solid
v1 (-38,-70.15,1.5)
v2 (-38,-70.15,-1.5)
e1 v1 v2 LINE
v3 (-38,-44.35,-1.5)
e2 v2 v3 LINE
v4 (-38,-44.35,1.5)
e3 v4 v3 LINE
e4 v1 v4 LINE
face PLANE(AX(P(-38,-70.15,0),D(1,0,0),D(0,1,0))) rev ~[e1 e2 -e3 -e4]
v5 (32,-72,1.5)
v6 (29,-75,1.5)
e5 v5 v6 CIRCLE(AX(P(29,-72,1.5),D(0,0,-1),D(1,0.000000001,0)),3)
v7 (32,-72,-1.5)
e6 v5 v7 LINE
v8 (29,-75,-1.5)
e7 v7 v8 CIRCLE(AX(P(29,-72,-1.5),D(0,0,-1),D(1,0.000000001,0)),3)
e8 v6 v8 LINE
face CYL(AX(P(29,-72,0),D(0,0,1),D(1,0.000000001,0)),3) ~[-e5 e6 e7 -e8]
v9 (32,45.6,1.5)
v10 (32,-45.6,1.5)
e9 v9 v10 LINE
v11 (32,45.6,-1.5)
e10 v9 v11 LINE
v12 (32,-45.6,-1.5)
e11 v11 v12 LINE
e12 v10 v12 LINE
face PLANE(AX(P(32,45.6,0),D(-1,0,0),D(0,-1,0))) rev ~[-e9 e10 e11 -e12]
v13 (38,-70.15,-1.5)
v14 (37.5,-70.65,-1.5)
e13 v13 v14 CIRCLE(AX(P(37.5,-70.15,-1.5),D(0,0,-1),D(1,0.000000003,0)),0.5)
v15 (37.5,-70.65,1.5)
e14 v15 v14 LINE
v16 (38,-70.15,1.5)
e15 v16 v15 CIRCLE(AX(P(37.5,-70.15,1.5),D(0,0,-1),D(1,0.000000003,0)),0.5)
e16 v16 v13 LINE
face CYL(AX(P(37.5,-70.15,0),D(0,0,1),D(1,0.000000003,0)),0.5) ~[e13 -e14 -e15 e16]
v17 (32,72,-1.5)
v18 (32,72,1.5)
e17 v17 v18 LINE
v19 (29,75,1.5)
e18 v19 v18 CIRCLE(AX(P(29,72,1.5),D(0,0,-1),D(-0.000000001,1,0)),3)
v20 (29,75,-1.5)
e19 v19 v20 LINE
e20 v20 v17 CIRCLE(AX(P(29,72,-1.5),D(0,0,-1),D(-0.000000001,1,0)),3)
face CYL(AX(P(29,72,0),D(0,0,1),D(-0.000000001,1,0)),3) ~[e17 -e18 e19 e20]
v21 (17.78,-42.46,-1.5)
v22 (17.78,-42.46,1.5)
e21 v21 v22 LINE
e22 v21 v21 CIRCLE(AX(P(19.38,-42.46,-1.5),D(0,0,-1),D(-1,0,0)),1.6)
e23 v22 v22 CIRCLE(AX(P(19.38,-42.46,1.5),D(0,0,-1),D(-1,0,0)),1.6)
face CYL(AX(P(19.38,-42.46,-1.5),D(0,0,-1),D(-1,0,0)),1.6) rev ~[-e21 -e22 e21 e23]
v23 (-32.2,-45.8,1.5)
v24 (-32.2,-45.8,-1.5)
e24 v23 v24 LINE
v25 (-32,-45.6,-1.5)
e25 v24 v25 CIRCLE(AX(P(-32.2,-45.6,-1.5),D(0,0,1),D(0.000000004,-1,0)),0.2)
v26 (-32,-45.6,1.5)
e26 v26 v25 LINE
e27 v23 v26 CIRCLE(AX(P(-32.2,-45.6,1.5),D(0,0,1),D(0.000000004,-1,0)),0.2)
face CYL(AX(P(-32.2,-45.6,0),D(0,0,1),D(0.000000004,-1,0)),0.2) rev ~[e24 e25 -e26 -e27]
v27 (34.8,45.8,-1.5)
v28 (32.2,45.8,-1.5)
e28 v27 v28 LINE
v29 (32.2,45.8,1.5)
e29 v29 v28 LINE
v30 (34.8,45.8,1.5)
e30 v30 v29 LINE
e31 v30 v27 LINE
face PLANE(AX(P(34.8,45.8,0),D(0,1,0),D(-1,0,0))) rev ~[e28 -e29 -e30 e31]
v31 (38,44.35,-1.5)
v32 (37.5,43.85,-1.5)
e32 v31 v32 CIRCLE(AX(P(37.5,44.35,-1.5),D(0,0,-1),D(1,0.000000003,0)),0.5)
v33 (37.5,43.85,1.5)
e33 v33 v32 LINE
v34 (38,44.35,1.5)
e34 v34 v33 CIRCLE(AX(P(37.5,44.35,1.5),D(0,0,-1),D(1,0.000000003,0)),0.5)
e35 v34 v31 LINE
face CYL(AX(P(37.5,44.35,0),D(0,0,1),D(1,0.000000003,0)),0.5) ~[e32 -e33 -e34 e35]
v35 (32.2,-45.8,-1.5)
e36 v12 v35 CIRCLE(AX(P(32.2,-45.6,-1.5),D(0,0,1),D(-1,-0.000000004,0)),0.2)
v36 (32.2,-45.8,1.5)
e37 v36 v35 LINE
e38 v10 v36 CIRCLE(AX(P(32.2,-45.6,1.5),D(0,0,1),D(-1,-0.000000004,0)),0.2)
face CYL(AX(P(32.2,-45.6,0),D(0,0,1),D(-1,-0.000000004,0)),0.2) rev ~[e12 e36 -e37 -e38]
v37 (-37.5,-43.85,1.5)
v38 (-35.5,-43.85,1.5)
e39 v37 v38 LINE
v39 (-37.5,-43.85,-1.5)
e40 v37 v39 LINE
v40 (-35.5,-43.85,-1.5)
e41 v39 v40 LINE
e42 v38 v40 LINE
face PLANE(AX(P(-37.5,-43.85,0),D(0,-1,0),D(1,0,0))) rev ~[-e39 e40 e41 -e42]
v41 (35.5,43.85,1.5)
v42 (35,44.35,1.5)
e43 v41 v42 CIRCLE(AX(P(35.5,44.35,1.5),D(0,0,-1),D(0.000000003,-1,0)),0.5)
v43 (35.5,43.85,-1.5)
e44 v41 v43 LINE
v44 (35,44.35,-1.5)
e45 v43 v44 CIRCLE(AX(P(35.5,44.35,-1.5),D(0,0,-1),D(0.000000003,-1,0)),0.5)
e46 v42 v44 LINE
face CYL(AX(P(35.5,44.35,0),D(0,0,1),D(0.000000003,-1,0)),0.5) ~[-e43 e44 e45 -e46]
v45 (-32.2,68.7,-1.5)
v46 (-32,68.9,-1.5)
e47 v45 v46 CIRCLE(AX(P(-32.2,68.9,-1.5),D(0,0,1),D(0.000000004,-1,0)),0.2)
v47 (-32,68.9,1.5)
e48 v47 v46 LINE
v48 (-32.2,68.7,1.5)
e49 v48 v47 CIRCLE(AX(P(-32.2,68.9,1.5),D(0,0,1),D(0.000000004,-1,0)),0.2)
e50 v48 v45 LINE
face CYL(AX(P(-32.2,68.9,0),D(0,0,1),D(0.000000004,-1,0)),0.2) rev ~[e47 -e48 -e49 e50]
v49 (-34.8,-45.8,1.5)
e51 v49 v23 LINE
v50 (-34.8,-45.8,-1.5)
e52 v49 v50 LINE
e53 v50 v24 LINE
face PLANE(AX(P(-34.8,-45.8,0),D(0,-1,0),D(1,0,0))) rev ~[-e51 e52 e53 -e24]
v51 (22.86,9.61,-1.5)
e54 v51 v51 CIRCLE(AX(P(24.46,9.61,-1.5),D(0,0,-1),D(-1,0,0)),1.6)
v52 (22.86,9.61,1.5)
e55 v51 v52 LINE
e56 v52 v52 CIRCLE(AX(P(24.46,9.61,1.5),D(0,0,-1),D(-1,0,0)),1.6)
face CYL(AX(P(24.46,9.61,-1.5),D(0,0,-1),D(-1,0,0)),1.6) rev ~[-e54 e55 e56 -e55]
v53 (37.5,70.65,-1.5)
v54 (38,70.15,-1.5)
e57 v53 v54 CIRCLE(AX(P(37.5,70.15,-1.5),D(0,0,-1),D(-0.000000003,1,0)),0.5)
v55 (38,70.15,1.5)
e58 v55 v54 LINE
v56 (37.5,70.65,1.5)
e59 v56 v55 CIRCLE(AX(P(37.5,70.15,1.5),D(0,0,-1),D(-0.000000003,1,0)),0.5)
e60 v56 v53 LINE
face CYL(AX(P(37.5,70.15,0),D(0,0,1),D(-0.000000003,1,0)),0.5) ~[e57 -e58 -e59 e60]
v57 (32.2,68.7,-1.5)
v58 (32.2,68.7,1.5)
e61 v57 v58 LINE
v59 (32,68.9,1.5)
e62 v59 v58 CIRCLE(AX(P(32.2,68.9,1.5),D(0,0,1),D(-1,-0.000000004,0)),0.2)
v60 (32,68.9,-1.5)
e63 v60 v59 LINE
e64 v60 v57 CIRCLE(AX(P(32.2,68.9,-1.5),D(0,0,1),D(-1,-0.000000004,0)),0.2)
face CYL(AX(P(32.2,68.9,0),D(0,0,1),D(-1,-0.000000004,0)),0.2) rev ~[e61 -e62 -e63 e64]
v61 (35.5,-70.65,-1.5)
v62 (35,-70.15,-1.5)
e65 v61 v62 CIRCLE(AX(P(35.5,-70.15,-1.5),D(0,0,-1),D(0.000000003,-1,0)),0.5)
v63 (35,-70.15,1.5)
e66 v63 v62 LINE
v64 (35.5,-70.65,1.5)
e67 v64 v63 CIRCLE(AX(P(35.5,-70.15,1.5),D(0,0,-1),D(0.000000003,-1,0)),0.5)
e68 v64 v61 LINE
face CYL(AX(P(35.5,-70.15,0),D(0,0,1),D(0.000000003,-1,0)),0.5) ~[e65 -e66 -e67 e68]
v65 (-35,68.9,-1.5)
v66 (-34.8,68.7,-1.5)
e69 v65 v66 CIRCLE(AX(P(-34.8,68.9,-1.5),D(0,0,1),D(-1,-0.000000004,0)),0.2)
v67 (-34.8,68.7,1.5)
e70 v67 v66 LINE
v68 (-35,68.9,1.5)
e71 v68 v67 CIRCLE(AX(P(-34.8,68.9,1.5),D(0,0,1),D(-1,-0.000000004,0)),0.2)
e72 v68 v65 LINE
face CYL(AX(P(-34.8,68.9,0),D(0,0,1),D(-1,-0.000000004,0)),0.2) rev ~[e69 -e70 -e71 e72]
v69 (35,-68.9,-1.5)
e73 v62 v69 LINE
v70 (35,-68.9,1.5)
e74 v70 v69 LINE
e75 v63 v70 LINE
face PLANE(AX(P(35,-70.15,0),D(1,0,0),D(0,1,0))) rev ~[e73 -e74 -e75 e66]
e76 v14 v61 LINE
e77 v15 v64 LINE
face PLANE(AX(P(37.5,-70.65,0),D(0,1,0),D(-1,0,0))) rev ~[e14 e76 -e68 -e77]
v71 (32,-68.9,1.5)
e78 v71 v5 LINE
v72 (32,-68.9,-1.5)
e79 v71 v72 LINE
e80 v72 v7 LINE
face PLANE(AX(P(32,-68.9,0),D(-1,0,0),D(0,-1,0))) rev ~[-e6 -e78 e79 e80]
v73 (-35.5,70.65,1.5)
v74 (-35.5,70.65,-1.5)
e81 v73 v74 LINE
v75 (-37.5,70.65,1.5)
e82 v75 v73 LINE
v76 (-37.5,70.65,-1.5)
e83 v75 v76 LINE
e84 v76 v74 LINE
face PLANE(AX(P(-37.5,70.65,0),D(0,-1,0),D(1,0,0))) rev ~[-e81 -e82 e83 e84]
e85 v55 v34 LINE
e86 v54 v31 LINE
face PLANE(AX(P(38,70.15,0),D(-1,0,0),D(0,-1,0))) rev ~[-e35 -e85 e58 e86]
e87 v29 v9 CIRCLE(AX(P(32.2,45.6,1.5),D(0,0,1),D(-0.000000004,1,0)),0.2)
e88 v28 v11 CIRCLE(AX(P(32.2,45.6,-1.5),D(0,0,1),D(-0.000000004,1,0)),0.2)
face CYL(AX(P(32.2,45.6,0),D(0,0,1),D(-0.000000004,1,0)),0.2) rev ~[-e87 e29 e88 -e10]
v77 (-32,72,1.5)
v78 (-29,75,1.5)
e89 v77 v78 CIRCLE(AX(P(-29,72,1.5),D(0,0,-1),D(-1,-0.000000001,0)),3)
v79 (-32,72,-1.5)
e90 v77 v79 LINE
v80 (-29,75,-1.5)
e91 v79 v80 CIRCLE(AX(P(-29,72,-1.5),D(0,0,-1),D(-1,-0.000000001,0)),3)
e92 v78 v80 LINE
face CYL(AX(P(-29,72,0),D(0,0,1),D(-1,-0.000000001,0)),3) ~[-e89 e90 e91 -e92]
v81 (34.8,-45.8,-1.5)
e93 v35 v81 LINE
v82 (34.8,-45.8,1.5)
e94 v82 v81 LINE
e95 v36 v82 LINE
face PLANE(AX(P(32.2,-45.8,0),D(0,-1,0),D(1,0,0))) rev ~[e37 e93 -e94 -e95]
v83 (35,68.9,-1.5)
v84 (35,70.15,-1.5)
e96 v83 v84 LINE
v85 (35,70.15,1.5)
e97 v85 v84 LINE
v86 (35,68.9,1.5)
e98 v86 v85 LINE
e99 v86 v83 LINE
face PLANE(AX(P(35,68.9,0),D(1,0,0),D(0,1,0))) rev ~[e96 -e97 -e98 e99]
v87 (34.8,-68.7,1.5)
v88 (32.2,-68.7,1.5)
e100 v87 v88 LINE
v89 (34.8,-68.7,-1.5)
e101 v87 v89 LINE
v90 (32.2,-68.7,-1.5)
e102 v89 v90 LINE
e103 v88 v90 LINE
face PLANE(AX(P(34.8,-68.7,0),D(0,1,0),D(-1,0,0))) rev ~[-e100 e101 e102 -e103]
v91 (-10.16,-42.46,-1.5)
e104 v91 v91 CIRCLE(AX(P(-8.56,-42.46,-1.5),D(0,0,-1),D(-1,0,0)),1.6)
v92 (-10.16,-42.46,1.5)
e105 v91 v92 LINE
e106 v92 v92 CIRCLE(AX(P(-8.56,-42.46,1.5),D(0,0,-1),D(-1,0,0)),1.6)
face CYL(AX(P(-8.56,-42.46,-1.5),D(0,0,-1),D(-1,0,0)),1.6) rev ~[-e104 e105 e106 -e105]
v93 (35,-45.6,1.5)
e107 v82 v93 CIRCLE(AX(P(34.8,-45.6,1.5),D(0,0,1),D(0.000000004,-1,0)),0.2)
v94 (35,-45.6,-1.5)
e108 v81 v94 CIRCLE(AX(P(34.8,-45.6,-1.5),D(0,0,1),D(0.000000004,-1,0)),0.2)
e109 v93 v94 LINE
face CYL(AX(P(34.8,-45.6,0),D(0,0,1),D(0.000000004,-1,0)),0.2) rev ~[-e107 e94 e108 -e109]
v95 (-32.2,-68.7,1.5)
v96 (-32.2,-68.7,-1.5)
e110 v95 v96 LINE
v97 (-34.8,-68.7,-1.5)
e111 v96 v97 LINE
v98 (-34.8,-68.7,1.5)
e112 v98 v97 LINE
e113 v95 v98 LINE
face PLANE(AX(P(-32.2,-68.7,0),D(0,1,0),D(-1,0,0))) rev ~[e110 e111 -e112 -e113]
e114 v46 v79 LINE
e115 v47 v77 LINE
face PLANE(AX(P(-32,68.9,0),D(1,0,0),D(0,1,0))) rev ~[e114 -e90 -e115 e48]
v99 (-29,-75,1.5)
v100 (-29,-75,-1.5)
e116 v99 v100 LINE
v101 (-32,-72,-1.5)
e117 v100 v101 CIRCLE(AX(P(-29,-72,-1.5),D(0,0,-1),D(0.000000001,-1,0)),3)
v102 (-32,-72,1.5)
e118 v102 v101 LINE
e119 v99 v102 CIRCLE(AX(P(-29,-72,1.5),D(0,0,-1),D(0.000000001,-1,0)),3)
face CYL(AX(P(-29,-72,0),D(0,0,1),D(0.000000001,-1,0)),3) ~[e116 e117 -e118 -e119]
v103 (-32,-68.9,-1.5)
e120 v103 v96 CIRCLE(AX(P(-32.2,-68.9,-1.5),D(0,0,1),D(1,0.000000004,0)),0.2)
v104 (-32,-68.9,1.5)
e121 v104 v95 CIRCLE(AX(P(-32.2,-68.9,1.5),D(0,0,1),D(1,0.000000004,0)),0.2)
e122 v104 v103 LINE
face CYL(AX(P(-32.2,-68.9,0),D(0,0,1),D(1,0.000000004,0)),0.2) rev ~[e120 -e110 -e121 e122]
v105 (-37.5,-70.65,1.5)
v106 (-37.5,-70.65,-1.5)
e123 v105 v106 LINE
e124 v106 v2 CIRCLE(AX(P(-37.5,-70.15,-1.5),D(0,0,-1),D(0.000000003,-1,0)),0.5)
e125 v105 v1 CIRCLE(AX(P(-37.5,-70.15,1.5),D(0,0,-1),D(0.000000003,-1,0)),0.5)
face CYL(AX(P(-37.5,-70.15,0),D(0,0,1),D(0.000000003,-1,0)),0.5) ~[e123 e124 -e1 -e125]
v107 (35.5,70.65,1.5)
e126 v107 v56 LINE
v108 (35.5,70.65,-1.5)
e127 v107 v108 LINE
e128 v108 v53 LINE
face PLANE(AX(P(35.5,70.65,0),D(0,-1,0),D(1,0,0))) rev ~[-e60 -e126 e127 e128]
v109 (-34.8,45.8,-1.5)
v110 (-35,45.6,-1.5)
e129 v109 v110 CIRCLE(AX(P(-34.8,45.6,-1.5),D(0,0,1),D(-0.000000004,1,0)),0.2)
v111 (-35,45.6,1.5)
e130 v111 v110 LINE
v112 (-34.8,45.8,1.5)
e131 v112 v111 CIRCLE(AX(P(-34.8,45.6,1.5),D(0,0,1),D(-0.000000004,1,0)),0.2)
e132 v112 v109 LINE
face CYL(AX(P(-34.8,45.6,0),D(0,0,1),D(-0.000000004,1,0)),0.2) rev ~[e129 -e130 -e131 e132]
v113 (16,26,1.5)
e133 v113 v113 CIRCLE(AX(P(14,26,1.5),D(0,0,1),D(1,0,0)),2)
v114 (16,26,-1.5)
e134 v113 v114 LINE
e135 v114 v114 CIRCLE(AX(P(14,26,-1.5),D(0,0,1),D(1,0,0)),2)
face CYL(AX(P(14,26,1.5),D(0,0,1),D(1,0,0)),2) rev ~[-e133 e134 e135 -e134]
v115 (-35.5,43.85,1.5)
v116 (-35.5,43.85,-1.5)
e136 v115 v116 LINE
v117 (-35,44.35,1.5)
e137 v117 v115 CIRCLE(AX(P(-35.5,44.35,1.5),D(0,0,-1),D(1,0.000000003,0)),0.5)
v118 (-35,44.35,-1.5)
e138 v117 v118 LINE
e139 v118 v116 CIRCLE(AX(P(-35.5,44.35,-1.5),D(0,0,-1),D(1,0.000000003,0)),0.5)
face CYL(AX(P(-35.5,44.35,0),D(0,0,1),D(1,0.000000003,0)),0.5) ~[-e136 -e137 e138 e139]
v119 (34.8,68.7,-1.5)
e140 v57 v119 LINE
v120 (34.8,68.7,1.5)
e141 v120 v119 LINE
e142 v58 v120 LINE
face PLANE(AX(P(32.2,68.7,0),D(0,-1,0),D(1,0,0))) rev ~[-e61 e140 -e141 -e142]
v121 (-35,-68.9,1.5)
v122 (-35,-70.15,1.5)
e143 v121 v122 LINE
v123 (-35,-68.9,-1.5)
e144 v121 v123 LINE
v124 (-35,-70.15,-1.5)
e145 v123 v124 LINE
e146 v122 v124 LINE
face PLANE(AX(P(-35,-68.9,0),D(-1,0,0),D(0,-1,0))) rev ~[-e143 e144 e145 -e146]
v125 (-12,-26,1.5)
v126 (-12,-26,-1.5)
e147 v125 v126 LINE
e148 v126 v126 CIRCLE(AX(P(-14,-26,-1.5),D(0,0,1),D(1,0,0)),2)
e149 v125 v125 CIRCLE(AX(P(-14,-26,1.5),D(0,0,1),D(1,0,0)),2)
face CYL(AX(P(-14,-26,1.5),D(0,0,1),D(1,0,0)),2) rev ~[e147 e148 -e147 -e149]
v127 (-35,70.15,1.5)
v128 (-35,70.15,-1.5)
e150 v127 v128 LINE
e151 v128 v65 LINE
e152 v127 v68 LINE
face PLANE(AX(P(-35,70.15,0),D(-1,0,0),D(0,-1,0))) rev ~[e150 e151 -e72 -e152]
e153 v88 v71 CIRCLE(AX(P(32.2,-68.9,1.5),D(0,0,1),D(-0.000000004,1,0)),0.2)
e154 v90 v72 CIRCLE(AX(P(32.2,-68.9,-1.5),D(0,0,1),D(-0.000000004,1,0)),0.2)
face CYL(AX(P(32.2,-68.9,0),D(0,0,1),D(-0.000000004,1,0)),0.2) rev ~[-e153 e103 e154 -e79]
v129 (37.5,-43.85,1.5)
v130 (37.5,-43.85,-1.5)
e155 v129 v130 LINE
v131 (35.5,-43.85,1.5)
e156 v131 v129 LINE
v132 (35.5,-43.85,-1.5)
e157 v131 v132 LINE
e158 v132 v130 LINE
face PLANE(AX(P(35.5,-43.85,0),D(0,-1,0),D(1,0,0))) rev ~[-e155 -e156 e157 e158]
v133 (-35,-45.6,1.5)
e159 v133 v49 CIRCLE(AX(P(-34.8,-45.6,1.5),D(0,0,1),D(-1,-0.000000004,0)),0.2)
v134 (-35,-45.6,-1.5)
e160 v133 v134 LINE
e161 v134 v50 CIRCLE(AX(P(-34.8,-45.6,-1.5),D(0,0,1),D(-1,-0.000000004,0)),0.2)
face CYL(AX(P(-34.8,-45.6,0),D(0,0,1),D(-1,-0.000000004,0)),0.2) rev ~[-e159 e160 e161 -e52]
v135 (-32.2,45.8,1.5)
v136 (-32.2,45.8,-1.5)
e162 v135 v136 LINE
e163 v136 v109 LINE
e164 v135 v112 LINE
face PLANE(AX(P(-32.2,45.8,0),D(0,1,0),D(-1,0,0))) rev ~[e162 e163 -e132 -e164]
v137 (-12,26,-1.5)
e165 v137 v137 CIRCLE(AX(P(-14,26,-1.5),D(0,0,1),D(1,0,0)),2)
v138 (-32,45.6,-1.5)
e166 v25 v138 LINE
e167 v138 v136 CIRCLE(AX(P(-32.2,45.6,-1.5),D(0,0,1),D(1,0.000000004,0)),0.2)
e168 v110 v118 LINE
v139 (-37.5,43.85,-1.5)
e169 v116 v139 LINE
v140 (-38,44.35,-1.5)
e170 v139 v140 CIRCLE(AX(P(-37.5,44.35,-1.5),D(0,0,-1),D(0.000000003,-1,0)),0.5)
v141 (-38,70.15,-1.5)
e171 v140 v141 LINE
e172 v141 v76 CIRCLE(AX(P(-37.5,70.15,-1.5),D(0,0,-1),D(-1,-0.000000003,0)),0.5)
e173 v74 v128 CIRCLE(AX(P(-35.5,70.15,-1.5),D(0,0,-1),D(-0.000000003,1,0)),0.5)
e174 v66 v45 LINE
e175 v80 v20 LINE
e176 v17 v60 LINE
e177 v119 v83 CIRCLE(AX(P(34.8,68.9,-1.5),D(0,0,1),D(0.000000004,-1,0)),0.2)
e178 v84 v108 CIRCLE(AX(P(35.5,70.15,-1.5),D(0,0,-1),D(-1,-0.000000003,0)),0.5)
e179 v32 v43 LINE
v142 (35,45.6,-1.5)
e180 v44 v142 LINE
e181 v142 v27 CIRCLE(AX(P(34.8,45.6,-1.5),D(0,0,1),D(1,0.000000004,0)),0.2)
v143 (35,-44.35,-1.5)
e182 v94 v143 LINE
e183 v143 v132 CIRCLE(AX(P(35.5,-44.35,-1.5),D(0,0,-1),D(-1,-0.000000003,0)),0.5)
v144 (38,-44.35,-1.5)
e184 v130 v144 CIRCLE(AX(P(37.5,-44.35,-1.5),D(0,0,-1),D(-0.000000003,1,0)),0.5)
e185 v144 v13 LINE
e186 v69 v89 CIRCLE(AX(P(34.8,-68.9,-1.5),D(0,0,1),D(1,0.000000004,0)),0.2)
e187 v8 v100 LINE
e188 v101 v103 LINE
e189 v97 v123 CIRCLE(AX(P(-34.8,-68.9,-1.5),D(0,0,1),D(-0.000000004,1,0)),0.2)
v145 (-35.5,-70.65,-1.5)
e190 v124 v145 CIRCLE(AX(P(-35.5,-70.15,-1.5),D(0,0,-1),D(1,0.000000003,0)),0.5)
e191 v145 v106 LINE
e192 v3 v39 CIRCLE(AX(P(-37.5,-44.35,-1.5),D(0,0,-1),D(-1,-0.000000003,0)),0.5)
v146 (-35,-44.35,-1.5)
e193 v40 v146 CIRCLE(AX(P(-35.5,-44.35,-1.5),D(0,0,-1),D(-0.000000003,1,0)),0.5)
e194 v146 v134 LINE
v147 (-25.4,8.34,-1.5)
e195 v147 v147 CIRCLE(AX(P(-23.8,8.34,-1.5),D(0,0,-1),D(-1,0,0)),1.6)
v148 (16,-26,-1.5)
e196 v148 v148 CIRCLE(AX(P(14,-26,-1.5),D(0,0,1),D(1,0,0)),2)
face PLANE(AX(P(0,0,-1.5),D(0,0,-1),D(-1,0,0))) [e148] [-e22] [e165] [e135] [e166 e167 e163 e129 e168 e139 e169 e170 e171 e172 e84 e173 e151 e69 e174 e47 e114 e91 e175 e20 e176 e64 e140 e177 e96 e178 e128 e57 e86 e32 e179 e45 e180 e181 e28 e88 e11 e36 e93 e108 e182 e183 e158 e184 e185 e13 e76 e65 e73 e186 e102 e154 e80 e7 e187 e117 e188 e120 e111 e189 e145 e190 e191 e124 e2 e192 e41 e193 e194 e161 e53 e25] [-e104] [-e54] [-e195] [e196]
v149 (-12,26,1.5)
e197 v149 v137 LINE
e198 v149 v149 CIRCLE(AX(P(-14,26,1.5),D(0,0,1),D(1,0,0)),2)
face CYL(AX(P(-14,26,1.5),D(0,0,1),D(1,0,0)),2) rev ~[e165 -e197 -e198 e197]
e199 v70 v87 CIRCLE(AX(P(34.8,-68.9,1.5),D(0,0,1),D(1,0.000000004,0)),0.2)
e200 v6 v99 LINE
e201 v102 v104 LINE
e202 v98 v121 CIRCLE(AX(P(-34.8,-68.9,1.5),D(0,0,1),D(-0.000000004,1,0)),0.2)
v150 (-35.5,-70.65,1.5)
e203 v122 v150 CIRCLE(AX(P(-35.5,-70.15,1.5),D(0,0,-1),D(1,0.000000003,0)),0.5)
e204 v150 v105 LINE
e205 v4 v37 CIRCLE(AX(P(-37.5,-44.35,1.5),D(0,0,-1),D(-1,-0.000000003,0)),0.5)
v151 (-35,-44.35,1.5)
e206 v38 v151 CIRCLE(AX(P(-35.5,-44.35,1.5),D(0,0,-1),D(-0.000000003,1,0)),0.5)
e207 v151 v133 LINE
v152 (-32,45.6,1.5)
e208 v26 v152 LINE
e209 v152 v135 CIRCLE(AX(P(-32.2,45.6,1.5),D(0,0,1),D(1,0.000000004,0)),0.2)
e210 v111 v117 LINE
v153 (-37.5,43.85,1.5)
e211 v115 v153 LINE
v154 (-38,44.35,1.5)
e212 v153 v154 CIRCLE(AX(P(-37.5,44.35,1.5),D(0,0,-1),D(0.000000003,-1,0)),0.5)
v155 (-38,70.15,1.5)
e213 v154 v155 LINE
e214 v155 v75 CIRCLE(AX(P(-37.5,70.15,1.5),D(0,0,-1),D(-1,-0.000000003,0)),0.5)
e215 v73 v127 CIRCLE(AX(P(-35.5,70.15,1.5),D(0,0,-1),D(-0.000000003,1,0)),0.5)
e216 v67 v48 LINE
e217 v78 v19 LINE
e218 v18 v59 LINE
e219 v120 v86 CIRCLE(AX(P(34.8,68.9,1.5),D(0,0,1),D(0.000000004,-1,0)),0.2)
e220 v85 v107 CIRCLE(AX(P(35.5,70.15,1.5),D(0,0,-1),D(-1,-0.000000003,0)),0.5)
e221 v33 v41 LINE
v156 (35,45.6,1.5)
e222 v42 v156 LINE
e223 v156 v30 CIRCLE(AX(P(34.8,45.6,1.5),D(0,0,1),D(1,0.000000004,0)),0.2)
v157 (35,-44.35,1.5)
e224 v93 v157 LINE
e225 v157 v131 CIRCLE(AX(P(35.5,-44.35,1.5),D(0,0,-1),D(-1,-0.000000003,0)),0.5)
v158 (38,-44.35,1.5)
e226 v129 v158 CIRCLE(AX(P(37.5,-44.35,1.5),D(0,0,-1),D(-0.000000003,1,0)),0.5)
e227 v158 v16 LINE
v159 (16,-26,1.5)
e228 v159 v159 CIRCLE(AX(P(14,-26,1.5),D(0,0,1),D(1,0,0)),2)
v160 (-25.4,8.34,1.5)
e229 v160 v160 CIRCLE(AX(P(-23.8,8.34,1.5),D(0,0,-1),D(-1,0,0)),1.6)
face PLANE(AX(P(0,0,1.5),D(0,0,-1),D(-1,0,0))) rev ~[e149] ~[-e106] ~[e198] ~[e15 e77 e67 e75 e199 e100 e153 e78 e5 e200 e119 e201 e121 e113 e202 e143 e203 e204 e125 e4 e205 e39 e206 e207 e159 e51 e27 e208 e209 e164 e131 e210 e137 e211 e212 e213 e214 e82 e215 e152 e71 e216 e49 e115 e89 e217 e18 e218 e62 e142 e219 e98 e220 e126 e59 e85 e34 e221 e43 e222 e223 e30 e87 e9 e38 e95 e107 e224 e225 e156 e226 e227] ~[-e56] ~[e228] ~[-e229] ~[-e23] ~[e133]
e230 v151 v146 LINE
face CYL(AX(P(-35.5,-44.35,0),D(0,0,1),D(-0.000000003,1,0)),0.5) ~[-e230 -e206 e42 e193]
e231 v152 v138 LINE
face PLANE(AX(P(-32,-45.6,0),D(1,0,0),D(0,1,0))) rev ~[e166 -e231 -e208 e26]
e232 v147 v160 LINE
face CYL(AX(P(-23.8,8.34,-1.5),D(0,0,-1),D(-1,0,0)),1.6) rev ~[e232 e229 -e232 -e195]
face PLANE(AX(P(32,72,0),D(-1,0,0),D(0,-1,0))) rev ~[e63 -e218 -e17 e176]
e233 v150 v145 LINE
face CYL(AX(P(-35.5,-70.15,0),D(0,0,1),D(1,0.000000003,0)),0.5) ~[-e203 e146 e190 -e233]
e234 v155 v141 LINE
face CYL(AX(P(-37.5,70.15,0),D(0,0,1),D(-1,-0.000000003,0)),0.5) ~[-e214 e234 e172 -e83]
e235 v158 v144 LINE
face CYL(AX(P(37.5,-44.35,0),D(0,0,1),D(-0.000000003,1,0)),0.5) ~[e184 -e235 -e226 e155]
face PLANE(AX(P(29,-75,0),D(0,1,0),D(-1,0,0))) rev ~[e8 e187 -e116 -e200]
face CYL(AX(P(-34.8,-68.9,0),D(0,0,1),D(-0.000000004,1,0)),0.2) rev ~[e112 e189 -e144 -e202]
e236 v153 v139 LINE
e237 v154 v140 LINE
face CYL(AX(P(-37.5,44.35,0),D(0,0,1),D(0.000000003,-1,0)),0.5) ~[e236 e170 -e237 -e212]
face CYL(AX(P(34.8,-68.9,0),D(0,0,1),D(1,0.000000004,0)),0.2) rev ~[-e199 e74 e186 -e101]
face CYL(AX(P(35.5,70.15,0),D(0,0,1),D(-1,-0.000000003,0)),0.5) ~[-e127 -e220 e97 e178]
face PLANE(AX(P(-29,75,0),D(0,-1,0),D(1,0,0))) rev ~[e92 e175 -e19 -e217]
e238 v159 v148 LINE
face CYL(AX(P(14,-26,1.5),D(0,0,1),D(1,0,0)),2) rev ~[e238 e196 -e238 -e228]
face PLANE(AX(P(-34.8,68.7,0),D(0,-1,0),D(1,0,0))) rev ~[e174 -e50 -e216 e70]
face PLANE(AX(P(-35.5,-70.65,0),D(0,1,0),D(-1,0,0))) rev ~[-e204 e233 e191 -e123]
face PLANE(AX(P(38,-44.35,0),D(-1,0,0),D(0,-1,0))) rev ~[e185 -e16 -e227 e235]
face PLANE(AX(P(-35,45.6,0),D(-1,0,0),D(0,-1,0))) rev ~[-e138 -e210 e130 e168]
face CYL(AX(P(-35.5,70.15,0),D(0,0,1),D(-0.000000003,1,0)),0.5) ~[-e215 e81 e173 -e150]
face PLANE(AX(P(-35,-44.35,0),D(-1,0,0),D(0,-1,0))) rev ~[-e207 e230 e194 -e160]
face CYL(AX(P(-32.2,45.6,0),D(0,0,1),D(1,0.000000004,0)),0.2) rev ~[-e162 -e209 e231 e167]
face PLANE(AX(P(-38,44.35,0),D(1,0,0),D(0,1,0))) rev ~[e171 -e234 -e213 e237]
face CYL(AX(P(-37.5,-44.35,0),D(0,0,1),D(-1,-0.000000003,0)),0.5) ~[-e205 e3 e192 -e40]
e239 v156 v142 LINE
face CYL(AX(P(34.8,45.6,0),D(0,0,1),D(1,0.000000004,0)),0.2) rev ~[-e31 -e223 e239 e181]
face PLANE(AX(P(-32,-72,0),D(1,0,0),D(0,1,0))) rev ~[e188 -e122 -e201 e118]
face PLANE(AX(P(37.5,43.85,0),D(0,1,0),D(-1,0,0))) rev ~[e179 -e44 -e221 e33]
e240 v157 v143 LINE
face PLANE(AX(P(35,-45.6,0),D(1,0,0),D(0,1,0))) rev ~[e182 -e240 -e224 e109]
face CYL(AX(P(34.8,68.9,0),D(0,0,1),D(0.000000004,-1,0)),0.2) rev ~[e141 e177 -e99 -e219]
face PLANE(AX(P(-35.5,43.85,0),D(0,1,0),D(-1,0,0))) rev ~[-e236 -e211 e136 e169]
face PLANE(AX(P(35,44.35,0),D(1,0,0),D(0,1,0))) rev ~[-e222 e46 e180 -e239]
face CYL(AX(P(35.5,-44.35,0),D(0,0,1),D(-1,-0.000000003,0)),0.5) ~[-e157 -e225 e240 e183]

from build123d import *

# Parameters (mm, degrees)
EXTRUDE_1_DEPTH     = 1.5
CUT_EXTRUDE_1_REACH = 5
SKETCH_2_R          = 1.6
SKETCH_3_R          = 2
CUT_EXTRUDE_2_DEPTH = 10


with BuildPart() as part:
    # 草图1 → 凸台-拉伸1 (new body, symmetric)
    with BuildSketch(Plane.XY):
        with BuildLine():
            Line((32.2, 68.7), (34.8, 68.7))
            ThreePointArc((34.8, 68.7), (34.941421356, 68.758578644), (35, 68.9))
            Line((35, 68.9), (35, 70.15))
            ThreePointArc((35, 70.15), (35.146446609, 70.503553391), (35.5, 70.65))
            Line((35.5, 70.65), (37.5, 70.65))
            ThreePointArc((37.5, 70.65), (37.853553391, 70.503553391), (38, 70.15))
            Line((38, 70.15), (38, 44.35))
            ThreePointArc((38, 44.35), (37.853553391, 43.996446609), (37.5, 43.85))
            Line((37.5, 43.85), (35.5, 43.85))
            ThreePointArc((35.5, 43.85), (35.146446609, 43.996446609), (35, 44.35))
            Line((35, 44.35), (35, 45.6))
            ThreePointArc((35, 45.6), (34.941421356, 45.741421356), (34.8, 45.8))
            Line((34.8, 45.8), (32.2, 45.8))
            ThreePointArc((32.2, 45.8), (32.058578644, 45.741421356), (32, 45.6))
            Line((32, 45.6), (32, -45.6))
            ThreePointArc((32, -45.6), (32.058578644, -45.741421356), (32.2, -45.8))
            Line((32.2, -45.8), (34.8, -45.8))
            ThreePointArc((34.8, -45.8), (34.941421356, -45.741421356), (35, -45.6))
            Line((35, -45.6), (35, -44.35))
            ThreePointArc((35, -44.35), (35.146446609, -43.996446609), (35.5, -43.85))
            Line((35.5, -43.85), (37.5, -43.85))
            ThreePointArc((37.5, -43.85), (37.853553391, -43.996446609), (38, -44.35))
            Line((38, -44.35), (38, -70.15))
            ThreePointArc((38, -70.15), (37.853553391, -70.503553391), (37.5, -70.65))
            Line((37.5, -70.65), (35.5, -70.65))
            ThreePointArc((35.5, -70.65), (35.146446609, -70.503553391), (35, -70.15))
            Line((35, -70.15), (35, -68.9))
            ThreePointArc((35, -68.9), (34.941421356, -68.758578644), (34.8, -68.7))
            Line((34.8, -68.7), (32.2, -68.7))
            ThreePointArc((32.2, -68.7), (32.058578644, -68.758578644), (32, -68.9))
            Line((32, -68.9), (32, -72))
            ThreePointArc((32, -72), (31.121320344, -74.121320344), (29, -75))
            Line((29, -75), (-29, -75))
            ThreePointArc((-29, -75), (-31.121320344, -74.121320344), (-32, -72))
            Line((-32, -72), (-32, -68.9))
            ThreePointArc((-32, -68.9), (-32.058578644, -68.758578644), (-32.2, -68.7))
            Line((-32.2, -68.7), (-34.8, -68.7))
            ThreePointArc((-34.8, -68.7), (-34.941421356, -68.758578644), (-35, -68.9))
            Line((-35, -68.9), (-35, -70.15))
            ThreePointArc((-35, -70.15), (-35.146446609, -70.503553391), (-35.5, -70.65))
            Line((-35.5, -70.65), (-37.5, -70.65))
            ThreePointArc((-37.5, -70.65), (-37.853553391, -70.503553391), (-38, -70.15))
            Line((-38, -70.15), (-38, -44.35))
            ThreePointArc((-38, -44.35), (-37.853553391, -43.996446609), (-37.5, -43.85))
            Line((-37.5, -43.85), (-35.5, -43.85))
            ThreePointArc((-35.5, -43.85), (-35.146446609, -43.996446609), (-35, -44.35))
            Line((-35, -44.35), (-35, -45.6))
            ThreePointArc((-35, -45.6), (-34.941421356, -45.741421356), (-34.8, -45.8))
            Line((-34.8, -45.8), (-32.2, -45.8))
            ThreePointArc((-32.2, -45.8), (-32.058578644, -45.741421356), (-32, -45.6))
            Line((-32, -45.6), (-32, 45.6))
            ThreePointArc((-32, 45.6), (-32.058578644, 45.741421356), (-32.2, 45.8))
            Line((-32.2, 45.8), (-34.8, 45.8))
            ThreePointArc((-34.8, 45.8), (-34.941421356, 45.741421356), (-35, 45.6))
            Line((-35, 45.6), (-35, 44.35))
            ThreePointArc((-35, 44.35), (-35.146446609, 43.996446609), (-35.5, 43.85))
            Line((-35.5, 43.85), (-37.5, 43.85))
            ThreePointArc((-37.5, 43.85), (-37.853553391, 43.996446609), (-38, 44.35))
            Line((-38, 44.35), (-38, 70.15))
            ThreePointArc((-38, 70.15), (-37.853553391, 70.503553391), (-37.5, 70.65))
            Line((-37.5, 70.65), (-35.5, 70.65))
            ThreePointArc((-35.5, 70.65), (-35.146446609, 70.503553391), (-35, 70.15))
            Line((-35, 70.15), (-35, 68.9))
            ThreePointArc((-35, 68.9), (-34.941421356, 68.758578644), (-34.8, 68.7))
            Line((-34.8, 68.7), (-32.2, 68.7))
            ThreePointArc((-32.2, 68.7), (-32.058578644, 68.758578644), (-32, 68.9))
            Line((-32, 68.9), (-32, 72))
            ThreePointArc((-32, 72), (-31.121320344, 74.121320344), (-29, 75))
            Line((-29, 75), (29, 75))
            ThreePointArc((29, 75), (31.121320344, 74.121320344), (32, 72))
            Line((32, 72), (32, 68.9))
            ThreePointArc((32, 68.9), (32.058578644, 68.758578644), (32.2, 68.7))
        make_face()
    extrude(amount=EXTRUDE_1_DEPTH, both=True)

    # 草图2 → 切除-拉伸1 (cut, up to next)
    with BuildSketch(Plane(origin=(0, 0, -1.5), x_dir=(-1, 0, 0), z_dir=(0, 0, -1)), mode=Mode.PRIVATE) as cut_extrude_1_sk1:
        with Locations((23.8, 8.34)):
            Circle(SKETCH_2_R)
    cut_extrude_1_tool1 = extrude(cut_extrude_1_sk1.sketch, amount=-CUT_EXTRUDE_1_REACH, mode=Mode.PRIVATE) & part.part
    add(cut_extrude_1_tool1.solids().sort_by_distance((-23.8, 8.34, -1.5))[0], mode=Mode.SUBTRACT)
    # 草图2 → 切除-拉伸1 (cut, up to next)
    with BuildSketch(Plane(origin=(0, 0, -1.5), x_dir=(-1, 0, 0), z_dir=(0, 0, -1)), mode=Mode.PRIVATE) as cut_extrude_1_sk2:
        with Locations((8.56, -42.46)):
            Circle(SKETCH_2_R)
    cut_extrude_1_tool2 = extrude(cut_extrude_1_sk2.sketch, amount=-CUT_EXTRUDE_1_REACH, mode=Mode.PRIVATE) & part.part
    add(cut_extrude_1_tool2.solids().sort_by_distance((-8.56, -42.46, -1.5))[0], mode=Mode.SUBTRACT)
    # 草图2 → 切除-拉伸1 (cut, up to next)
    with BuildSketch(Plane(origin=(0, 0, -1.5), x_dir=(-1, 0, 0), z_dir=(0, 0, -1)), mode=Mode.PRIVATE) as cut_extrude_1_sk3:
        with Locations((-19.38, -42.46)):
            Circle(SKETCH_2_R)
    cut_extrude_1_tool3 = extrude(cut_extrude_1_sk3.sketch, amount=-CUT_EXTRUDE_1_REACH, mode=Mode.PRIVATE) & part.part
    add(cut_extrude_1_tool3.solids().sort_by_distance((19.38, -42.46, -1.5))[0], mode=Mode.SUBTRACT)
    # 草图2 → 切除-拉伸1 (cut, up to next)
    with BuildSketch(Plane(origin=(0, 0, -1.5), x_dir=(-1, 0, 0), z_dir=(0, 0, -1)), mode=Mode.PRIVATE) as cut_extrude_1_sk4:
        with Locations((-24.46, 9.61)):
            Circle(SKETCH_2_R)
    cut_extrude_1_tool4 = extrude(cut_extrude_1_sk4.sketch, amount=-CUT_EXTRUDE_1_REACH, mode=Mode.PRIVATE) & part.part
    add(cut_extrude_1_tool4.solids().sort_by_distance((24.46, 9.61, -1.5))[0], mode=Mode.SUBTRACT)

    # 草图3 → 切除-拉伸2 (cut)
    with BuildSketch(Plane.XY.offset(1.5)):
        with Locations((14, 26)):
            Circle(SKETCH_3_R)
        with Locations((14, -26)):
            Circle(SKETCH_3_R)
        with Locations((-14, 26)):
            Circle(SKETCH_3_R)
        with Locations((-14, -26)):
            Circle(SKETCH_3_R)
    extrude(amount=-CUT_EXTRUDE_2_DEPTH, mode=Mode.SUBTRACT)


solid = part.part
